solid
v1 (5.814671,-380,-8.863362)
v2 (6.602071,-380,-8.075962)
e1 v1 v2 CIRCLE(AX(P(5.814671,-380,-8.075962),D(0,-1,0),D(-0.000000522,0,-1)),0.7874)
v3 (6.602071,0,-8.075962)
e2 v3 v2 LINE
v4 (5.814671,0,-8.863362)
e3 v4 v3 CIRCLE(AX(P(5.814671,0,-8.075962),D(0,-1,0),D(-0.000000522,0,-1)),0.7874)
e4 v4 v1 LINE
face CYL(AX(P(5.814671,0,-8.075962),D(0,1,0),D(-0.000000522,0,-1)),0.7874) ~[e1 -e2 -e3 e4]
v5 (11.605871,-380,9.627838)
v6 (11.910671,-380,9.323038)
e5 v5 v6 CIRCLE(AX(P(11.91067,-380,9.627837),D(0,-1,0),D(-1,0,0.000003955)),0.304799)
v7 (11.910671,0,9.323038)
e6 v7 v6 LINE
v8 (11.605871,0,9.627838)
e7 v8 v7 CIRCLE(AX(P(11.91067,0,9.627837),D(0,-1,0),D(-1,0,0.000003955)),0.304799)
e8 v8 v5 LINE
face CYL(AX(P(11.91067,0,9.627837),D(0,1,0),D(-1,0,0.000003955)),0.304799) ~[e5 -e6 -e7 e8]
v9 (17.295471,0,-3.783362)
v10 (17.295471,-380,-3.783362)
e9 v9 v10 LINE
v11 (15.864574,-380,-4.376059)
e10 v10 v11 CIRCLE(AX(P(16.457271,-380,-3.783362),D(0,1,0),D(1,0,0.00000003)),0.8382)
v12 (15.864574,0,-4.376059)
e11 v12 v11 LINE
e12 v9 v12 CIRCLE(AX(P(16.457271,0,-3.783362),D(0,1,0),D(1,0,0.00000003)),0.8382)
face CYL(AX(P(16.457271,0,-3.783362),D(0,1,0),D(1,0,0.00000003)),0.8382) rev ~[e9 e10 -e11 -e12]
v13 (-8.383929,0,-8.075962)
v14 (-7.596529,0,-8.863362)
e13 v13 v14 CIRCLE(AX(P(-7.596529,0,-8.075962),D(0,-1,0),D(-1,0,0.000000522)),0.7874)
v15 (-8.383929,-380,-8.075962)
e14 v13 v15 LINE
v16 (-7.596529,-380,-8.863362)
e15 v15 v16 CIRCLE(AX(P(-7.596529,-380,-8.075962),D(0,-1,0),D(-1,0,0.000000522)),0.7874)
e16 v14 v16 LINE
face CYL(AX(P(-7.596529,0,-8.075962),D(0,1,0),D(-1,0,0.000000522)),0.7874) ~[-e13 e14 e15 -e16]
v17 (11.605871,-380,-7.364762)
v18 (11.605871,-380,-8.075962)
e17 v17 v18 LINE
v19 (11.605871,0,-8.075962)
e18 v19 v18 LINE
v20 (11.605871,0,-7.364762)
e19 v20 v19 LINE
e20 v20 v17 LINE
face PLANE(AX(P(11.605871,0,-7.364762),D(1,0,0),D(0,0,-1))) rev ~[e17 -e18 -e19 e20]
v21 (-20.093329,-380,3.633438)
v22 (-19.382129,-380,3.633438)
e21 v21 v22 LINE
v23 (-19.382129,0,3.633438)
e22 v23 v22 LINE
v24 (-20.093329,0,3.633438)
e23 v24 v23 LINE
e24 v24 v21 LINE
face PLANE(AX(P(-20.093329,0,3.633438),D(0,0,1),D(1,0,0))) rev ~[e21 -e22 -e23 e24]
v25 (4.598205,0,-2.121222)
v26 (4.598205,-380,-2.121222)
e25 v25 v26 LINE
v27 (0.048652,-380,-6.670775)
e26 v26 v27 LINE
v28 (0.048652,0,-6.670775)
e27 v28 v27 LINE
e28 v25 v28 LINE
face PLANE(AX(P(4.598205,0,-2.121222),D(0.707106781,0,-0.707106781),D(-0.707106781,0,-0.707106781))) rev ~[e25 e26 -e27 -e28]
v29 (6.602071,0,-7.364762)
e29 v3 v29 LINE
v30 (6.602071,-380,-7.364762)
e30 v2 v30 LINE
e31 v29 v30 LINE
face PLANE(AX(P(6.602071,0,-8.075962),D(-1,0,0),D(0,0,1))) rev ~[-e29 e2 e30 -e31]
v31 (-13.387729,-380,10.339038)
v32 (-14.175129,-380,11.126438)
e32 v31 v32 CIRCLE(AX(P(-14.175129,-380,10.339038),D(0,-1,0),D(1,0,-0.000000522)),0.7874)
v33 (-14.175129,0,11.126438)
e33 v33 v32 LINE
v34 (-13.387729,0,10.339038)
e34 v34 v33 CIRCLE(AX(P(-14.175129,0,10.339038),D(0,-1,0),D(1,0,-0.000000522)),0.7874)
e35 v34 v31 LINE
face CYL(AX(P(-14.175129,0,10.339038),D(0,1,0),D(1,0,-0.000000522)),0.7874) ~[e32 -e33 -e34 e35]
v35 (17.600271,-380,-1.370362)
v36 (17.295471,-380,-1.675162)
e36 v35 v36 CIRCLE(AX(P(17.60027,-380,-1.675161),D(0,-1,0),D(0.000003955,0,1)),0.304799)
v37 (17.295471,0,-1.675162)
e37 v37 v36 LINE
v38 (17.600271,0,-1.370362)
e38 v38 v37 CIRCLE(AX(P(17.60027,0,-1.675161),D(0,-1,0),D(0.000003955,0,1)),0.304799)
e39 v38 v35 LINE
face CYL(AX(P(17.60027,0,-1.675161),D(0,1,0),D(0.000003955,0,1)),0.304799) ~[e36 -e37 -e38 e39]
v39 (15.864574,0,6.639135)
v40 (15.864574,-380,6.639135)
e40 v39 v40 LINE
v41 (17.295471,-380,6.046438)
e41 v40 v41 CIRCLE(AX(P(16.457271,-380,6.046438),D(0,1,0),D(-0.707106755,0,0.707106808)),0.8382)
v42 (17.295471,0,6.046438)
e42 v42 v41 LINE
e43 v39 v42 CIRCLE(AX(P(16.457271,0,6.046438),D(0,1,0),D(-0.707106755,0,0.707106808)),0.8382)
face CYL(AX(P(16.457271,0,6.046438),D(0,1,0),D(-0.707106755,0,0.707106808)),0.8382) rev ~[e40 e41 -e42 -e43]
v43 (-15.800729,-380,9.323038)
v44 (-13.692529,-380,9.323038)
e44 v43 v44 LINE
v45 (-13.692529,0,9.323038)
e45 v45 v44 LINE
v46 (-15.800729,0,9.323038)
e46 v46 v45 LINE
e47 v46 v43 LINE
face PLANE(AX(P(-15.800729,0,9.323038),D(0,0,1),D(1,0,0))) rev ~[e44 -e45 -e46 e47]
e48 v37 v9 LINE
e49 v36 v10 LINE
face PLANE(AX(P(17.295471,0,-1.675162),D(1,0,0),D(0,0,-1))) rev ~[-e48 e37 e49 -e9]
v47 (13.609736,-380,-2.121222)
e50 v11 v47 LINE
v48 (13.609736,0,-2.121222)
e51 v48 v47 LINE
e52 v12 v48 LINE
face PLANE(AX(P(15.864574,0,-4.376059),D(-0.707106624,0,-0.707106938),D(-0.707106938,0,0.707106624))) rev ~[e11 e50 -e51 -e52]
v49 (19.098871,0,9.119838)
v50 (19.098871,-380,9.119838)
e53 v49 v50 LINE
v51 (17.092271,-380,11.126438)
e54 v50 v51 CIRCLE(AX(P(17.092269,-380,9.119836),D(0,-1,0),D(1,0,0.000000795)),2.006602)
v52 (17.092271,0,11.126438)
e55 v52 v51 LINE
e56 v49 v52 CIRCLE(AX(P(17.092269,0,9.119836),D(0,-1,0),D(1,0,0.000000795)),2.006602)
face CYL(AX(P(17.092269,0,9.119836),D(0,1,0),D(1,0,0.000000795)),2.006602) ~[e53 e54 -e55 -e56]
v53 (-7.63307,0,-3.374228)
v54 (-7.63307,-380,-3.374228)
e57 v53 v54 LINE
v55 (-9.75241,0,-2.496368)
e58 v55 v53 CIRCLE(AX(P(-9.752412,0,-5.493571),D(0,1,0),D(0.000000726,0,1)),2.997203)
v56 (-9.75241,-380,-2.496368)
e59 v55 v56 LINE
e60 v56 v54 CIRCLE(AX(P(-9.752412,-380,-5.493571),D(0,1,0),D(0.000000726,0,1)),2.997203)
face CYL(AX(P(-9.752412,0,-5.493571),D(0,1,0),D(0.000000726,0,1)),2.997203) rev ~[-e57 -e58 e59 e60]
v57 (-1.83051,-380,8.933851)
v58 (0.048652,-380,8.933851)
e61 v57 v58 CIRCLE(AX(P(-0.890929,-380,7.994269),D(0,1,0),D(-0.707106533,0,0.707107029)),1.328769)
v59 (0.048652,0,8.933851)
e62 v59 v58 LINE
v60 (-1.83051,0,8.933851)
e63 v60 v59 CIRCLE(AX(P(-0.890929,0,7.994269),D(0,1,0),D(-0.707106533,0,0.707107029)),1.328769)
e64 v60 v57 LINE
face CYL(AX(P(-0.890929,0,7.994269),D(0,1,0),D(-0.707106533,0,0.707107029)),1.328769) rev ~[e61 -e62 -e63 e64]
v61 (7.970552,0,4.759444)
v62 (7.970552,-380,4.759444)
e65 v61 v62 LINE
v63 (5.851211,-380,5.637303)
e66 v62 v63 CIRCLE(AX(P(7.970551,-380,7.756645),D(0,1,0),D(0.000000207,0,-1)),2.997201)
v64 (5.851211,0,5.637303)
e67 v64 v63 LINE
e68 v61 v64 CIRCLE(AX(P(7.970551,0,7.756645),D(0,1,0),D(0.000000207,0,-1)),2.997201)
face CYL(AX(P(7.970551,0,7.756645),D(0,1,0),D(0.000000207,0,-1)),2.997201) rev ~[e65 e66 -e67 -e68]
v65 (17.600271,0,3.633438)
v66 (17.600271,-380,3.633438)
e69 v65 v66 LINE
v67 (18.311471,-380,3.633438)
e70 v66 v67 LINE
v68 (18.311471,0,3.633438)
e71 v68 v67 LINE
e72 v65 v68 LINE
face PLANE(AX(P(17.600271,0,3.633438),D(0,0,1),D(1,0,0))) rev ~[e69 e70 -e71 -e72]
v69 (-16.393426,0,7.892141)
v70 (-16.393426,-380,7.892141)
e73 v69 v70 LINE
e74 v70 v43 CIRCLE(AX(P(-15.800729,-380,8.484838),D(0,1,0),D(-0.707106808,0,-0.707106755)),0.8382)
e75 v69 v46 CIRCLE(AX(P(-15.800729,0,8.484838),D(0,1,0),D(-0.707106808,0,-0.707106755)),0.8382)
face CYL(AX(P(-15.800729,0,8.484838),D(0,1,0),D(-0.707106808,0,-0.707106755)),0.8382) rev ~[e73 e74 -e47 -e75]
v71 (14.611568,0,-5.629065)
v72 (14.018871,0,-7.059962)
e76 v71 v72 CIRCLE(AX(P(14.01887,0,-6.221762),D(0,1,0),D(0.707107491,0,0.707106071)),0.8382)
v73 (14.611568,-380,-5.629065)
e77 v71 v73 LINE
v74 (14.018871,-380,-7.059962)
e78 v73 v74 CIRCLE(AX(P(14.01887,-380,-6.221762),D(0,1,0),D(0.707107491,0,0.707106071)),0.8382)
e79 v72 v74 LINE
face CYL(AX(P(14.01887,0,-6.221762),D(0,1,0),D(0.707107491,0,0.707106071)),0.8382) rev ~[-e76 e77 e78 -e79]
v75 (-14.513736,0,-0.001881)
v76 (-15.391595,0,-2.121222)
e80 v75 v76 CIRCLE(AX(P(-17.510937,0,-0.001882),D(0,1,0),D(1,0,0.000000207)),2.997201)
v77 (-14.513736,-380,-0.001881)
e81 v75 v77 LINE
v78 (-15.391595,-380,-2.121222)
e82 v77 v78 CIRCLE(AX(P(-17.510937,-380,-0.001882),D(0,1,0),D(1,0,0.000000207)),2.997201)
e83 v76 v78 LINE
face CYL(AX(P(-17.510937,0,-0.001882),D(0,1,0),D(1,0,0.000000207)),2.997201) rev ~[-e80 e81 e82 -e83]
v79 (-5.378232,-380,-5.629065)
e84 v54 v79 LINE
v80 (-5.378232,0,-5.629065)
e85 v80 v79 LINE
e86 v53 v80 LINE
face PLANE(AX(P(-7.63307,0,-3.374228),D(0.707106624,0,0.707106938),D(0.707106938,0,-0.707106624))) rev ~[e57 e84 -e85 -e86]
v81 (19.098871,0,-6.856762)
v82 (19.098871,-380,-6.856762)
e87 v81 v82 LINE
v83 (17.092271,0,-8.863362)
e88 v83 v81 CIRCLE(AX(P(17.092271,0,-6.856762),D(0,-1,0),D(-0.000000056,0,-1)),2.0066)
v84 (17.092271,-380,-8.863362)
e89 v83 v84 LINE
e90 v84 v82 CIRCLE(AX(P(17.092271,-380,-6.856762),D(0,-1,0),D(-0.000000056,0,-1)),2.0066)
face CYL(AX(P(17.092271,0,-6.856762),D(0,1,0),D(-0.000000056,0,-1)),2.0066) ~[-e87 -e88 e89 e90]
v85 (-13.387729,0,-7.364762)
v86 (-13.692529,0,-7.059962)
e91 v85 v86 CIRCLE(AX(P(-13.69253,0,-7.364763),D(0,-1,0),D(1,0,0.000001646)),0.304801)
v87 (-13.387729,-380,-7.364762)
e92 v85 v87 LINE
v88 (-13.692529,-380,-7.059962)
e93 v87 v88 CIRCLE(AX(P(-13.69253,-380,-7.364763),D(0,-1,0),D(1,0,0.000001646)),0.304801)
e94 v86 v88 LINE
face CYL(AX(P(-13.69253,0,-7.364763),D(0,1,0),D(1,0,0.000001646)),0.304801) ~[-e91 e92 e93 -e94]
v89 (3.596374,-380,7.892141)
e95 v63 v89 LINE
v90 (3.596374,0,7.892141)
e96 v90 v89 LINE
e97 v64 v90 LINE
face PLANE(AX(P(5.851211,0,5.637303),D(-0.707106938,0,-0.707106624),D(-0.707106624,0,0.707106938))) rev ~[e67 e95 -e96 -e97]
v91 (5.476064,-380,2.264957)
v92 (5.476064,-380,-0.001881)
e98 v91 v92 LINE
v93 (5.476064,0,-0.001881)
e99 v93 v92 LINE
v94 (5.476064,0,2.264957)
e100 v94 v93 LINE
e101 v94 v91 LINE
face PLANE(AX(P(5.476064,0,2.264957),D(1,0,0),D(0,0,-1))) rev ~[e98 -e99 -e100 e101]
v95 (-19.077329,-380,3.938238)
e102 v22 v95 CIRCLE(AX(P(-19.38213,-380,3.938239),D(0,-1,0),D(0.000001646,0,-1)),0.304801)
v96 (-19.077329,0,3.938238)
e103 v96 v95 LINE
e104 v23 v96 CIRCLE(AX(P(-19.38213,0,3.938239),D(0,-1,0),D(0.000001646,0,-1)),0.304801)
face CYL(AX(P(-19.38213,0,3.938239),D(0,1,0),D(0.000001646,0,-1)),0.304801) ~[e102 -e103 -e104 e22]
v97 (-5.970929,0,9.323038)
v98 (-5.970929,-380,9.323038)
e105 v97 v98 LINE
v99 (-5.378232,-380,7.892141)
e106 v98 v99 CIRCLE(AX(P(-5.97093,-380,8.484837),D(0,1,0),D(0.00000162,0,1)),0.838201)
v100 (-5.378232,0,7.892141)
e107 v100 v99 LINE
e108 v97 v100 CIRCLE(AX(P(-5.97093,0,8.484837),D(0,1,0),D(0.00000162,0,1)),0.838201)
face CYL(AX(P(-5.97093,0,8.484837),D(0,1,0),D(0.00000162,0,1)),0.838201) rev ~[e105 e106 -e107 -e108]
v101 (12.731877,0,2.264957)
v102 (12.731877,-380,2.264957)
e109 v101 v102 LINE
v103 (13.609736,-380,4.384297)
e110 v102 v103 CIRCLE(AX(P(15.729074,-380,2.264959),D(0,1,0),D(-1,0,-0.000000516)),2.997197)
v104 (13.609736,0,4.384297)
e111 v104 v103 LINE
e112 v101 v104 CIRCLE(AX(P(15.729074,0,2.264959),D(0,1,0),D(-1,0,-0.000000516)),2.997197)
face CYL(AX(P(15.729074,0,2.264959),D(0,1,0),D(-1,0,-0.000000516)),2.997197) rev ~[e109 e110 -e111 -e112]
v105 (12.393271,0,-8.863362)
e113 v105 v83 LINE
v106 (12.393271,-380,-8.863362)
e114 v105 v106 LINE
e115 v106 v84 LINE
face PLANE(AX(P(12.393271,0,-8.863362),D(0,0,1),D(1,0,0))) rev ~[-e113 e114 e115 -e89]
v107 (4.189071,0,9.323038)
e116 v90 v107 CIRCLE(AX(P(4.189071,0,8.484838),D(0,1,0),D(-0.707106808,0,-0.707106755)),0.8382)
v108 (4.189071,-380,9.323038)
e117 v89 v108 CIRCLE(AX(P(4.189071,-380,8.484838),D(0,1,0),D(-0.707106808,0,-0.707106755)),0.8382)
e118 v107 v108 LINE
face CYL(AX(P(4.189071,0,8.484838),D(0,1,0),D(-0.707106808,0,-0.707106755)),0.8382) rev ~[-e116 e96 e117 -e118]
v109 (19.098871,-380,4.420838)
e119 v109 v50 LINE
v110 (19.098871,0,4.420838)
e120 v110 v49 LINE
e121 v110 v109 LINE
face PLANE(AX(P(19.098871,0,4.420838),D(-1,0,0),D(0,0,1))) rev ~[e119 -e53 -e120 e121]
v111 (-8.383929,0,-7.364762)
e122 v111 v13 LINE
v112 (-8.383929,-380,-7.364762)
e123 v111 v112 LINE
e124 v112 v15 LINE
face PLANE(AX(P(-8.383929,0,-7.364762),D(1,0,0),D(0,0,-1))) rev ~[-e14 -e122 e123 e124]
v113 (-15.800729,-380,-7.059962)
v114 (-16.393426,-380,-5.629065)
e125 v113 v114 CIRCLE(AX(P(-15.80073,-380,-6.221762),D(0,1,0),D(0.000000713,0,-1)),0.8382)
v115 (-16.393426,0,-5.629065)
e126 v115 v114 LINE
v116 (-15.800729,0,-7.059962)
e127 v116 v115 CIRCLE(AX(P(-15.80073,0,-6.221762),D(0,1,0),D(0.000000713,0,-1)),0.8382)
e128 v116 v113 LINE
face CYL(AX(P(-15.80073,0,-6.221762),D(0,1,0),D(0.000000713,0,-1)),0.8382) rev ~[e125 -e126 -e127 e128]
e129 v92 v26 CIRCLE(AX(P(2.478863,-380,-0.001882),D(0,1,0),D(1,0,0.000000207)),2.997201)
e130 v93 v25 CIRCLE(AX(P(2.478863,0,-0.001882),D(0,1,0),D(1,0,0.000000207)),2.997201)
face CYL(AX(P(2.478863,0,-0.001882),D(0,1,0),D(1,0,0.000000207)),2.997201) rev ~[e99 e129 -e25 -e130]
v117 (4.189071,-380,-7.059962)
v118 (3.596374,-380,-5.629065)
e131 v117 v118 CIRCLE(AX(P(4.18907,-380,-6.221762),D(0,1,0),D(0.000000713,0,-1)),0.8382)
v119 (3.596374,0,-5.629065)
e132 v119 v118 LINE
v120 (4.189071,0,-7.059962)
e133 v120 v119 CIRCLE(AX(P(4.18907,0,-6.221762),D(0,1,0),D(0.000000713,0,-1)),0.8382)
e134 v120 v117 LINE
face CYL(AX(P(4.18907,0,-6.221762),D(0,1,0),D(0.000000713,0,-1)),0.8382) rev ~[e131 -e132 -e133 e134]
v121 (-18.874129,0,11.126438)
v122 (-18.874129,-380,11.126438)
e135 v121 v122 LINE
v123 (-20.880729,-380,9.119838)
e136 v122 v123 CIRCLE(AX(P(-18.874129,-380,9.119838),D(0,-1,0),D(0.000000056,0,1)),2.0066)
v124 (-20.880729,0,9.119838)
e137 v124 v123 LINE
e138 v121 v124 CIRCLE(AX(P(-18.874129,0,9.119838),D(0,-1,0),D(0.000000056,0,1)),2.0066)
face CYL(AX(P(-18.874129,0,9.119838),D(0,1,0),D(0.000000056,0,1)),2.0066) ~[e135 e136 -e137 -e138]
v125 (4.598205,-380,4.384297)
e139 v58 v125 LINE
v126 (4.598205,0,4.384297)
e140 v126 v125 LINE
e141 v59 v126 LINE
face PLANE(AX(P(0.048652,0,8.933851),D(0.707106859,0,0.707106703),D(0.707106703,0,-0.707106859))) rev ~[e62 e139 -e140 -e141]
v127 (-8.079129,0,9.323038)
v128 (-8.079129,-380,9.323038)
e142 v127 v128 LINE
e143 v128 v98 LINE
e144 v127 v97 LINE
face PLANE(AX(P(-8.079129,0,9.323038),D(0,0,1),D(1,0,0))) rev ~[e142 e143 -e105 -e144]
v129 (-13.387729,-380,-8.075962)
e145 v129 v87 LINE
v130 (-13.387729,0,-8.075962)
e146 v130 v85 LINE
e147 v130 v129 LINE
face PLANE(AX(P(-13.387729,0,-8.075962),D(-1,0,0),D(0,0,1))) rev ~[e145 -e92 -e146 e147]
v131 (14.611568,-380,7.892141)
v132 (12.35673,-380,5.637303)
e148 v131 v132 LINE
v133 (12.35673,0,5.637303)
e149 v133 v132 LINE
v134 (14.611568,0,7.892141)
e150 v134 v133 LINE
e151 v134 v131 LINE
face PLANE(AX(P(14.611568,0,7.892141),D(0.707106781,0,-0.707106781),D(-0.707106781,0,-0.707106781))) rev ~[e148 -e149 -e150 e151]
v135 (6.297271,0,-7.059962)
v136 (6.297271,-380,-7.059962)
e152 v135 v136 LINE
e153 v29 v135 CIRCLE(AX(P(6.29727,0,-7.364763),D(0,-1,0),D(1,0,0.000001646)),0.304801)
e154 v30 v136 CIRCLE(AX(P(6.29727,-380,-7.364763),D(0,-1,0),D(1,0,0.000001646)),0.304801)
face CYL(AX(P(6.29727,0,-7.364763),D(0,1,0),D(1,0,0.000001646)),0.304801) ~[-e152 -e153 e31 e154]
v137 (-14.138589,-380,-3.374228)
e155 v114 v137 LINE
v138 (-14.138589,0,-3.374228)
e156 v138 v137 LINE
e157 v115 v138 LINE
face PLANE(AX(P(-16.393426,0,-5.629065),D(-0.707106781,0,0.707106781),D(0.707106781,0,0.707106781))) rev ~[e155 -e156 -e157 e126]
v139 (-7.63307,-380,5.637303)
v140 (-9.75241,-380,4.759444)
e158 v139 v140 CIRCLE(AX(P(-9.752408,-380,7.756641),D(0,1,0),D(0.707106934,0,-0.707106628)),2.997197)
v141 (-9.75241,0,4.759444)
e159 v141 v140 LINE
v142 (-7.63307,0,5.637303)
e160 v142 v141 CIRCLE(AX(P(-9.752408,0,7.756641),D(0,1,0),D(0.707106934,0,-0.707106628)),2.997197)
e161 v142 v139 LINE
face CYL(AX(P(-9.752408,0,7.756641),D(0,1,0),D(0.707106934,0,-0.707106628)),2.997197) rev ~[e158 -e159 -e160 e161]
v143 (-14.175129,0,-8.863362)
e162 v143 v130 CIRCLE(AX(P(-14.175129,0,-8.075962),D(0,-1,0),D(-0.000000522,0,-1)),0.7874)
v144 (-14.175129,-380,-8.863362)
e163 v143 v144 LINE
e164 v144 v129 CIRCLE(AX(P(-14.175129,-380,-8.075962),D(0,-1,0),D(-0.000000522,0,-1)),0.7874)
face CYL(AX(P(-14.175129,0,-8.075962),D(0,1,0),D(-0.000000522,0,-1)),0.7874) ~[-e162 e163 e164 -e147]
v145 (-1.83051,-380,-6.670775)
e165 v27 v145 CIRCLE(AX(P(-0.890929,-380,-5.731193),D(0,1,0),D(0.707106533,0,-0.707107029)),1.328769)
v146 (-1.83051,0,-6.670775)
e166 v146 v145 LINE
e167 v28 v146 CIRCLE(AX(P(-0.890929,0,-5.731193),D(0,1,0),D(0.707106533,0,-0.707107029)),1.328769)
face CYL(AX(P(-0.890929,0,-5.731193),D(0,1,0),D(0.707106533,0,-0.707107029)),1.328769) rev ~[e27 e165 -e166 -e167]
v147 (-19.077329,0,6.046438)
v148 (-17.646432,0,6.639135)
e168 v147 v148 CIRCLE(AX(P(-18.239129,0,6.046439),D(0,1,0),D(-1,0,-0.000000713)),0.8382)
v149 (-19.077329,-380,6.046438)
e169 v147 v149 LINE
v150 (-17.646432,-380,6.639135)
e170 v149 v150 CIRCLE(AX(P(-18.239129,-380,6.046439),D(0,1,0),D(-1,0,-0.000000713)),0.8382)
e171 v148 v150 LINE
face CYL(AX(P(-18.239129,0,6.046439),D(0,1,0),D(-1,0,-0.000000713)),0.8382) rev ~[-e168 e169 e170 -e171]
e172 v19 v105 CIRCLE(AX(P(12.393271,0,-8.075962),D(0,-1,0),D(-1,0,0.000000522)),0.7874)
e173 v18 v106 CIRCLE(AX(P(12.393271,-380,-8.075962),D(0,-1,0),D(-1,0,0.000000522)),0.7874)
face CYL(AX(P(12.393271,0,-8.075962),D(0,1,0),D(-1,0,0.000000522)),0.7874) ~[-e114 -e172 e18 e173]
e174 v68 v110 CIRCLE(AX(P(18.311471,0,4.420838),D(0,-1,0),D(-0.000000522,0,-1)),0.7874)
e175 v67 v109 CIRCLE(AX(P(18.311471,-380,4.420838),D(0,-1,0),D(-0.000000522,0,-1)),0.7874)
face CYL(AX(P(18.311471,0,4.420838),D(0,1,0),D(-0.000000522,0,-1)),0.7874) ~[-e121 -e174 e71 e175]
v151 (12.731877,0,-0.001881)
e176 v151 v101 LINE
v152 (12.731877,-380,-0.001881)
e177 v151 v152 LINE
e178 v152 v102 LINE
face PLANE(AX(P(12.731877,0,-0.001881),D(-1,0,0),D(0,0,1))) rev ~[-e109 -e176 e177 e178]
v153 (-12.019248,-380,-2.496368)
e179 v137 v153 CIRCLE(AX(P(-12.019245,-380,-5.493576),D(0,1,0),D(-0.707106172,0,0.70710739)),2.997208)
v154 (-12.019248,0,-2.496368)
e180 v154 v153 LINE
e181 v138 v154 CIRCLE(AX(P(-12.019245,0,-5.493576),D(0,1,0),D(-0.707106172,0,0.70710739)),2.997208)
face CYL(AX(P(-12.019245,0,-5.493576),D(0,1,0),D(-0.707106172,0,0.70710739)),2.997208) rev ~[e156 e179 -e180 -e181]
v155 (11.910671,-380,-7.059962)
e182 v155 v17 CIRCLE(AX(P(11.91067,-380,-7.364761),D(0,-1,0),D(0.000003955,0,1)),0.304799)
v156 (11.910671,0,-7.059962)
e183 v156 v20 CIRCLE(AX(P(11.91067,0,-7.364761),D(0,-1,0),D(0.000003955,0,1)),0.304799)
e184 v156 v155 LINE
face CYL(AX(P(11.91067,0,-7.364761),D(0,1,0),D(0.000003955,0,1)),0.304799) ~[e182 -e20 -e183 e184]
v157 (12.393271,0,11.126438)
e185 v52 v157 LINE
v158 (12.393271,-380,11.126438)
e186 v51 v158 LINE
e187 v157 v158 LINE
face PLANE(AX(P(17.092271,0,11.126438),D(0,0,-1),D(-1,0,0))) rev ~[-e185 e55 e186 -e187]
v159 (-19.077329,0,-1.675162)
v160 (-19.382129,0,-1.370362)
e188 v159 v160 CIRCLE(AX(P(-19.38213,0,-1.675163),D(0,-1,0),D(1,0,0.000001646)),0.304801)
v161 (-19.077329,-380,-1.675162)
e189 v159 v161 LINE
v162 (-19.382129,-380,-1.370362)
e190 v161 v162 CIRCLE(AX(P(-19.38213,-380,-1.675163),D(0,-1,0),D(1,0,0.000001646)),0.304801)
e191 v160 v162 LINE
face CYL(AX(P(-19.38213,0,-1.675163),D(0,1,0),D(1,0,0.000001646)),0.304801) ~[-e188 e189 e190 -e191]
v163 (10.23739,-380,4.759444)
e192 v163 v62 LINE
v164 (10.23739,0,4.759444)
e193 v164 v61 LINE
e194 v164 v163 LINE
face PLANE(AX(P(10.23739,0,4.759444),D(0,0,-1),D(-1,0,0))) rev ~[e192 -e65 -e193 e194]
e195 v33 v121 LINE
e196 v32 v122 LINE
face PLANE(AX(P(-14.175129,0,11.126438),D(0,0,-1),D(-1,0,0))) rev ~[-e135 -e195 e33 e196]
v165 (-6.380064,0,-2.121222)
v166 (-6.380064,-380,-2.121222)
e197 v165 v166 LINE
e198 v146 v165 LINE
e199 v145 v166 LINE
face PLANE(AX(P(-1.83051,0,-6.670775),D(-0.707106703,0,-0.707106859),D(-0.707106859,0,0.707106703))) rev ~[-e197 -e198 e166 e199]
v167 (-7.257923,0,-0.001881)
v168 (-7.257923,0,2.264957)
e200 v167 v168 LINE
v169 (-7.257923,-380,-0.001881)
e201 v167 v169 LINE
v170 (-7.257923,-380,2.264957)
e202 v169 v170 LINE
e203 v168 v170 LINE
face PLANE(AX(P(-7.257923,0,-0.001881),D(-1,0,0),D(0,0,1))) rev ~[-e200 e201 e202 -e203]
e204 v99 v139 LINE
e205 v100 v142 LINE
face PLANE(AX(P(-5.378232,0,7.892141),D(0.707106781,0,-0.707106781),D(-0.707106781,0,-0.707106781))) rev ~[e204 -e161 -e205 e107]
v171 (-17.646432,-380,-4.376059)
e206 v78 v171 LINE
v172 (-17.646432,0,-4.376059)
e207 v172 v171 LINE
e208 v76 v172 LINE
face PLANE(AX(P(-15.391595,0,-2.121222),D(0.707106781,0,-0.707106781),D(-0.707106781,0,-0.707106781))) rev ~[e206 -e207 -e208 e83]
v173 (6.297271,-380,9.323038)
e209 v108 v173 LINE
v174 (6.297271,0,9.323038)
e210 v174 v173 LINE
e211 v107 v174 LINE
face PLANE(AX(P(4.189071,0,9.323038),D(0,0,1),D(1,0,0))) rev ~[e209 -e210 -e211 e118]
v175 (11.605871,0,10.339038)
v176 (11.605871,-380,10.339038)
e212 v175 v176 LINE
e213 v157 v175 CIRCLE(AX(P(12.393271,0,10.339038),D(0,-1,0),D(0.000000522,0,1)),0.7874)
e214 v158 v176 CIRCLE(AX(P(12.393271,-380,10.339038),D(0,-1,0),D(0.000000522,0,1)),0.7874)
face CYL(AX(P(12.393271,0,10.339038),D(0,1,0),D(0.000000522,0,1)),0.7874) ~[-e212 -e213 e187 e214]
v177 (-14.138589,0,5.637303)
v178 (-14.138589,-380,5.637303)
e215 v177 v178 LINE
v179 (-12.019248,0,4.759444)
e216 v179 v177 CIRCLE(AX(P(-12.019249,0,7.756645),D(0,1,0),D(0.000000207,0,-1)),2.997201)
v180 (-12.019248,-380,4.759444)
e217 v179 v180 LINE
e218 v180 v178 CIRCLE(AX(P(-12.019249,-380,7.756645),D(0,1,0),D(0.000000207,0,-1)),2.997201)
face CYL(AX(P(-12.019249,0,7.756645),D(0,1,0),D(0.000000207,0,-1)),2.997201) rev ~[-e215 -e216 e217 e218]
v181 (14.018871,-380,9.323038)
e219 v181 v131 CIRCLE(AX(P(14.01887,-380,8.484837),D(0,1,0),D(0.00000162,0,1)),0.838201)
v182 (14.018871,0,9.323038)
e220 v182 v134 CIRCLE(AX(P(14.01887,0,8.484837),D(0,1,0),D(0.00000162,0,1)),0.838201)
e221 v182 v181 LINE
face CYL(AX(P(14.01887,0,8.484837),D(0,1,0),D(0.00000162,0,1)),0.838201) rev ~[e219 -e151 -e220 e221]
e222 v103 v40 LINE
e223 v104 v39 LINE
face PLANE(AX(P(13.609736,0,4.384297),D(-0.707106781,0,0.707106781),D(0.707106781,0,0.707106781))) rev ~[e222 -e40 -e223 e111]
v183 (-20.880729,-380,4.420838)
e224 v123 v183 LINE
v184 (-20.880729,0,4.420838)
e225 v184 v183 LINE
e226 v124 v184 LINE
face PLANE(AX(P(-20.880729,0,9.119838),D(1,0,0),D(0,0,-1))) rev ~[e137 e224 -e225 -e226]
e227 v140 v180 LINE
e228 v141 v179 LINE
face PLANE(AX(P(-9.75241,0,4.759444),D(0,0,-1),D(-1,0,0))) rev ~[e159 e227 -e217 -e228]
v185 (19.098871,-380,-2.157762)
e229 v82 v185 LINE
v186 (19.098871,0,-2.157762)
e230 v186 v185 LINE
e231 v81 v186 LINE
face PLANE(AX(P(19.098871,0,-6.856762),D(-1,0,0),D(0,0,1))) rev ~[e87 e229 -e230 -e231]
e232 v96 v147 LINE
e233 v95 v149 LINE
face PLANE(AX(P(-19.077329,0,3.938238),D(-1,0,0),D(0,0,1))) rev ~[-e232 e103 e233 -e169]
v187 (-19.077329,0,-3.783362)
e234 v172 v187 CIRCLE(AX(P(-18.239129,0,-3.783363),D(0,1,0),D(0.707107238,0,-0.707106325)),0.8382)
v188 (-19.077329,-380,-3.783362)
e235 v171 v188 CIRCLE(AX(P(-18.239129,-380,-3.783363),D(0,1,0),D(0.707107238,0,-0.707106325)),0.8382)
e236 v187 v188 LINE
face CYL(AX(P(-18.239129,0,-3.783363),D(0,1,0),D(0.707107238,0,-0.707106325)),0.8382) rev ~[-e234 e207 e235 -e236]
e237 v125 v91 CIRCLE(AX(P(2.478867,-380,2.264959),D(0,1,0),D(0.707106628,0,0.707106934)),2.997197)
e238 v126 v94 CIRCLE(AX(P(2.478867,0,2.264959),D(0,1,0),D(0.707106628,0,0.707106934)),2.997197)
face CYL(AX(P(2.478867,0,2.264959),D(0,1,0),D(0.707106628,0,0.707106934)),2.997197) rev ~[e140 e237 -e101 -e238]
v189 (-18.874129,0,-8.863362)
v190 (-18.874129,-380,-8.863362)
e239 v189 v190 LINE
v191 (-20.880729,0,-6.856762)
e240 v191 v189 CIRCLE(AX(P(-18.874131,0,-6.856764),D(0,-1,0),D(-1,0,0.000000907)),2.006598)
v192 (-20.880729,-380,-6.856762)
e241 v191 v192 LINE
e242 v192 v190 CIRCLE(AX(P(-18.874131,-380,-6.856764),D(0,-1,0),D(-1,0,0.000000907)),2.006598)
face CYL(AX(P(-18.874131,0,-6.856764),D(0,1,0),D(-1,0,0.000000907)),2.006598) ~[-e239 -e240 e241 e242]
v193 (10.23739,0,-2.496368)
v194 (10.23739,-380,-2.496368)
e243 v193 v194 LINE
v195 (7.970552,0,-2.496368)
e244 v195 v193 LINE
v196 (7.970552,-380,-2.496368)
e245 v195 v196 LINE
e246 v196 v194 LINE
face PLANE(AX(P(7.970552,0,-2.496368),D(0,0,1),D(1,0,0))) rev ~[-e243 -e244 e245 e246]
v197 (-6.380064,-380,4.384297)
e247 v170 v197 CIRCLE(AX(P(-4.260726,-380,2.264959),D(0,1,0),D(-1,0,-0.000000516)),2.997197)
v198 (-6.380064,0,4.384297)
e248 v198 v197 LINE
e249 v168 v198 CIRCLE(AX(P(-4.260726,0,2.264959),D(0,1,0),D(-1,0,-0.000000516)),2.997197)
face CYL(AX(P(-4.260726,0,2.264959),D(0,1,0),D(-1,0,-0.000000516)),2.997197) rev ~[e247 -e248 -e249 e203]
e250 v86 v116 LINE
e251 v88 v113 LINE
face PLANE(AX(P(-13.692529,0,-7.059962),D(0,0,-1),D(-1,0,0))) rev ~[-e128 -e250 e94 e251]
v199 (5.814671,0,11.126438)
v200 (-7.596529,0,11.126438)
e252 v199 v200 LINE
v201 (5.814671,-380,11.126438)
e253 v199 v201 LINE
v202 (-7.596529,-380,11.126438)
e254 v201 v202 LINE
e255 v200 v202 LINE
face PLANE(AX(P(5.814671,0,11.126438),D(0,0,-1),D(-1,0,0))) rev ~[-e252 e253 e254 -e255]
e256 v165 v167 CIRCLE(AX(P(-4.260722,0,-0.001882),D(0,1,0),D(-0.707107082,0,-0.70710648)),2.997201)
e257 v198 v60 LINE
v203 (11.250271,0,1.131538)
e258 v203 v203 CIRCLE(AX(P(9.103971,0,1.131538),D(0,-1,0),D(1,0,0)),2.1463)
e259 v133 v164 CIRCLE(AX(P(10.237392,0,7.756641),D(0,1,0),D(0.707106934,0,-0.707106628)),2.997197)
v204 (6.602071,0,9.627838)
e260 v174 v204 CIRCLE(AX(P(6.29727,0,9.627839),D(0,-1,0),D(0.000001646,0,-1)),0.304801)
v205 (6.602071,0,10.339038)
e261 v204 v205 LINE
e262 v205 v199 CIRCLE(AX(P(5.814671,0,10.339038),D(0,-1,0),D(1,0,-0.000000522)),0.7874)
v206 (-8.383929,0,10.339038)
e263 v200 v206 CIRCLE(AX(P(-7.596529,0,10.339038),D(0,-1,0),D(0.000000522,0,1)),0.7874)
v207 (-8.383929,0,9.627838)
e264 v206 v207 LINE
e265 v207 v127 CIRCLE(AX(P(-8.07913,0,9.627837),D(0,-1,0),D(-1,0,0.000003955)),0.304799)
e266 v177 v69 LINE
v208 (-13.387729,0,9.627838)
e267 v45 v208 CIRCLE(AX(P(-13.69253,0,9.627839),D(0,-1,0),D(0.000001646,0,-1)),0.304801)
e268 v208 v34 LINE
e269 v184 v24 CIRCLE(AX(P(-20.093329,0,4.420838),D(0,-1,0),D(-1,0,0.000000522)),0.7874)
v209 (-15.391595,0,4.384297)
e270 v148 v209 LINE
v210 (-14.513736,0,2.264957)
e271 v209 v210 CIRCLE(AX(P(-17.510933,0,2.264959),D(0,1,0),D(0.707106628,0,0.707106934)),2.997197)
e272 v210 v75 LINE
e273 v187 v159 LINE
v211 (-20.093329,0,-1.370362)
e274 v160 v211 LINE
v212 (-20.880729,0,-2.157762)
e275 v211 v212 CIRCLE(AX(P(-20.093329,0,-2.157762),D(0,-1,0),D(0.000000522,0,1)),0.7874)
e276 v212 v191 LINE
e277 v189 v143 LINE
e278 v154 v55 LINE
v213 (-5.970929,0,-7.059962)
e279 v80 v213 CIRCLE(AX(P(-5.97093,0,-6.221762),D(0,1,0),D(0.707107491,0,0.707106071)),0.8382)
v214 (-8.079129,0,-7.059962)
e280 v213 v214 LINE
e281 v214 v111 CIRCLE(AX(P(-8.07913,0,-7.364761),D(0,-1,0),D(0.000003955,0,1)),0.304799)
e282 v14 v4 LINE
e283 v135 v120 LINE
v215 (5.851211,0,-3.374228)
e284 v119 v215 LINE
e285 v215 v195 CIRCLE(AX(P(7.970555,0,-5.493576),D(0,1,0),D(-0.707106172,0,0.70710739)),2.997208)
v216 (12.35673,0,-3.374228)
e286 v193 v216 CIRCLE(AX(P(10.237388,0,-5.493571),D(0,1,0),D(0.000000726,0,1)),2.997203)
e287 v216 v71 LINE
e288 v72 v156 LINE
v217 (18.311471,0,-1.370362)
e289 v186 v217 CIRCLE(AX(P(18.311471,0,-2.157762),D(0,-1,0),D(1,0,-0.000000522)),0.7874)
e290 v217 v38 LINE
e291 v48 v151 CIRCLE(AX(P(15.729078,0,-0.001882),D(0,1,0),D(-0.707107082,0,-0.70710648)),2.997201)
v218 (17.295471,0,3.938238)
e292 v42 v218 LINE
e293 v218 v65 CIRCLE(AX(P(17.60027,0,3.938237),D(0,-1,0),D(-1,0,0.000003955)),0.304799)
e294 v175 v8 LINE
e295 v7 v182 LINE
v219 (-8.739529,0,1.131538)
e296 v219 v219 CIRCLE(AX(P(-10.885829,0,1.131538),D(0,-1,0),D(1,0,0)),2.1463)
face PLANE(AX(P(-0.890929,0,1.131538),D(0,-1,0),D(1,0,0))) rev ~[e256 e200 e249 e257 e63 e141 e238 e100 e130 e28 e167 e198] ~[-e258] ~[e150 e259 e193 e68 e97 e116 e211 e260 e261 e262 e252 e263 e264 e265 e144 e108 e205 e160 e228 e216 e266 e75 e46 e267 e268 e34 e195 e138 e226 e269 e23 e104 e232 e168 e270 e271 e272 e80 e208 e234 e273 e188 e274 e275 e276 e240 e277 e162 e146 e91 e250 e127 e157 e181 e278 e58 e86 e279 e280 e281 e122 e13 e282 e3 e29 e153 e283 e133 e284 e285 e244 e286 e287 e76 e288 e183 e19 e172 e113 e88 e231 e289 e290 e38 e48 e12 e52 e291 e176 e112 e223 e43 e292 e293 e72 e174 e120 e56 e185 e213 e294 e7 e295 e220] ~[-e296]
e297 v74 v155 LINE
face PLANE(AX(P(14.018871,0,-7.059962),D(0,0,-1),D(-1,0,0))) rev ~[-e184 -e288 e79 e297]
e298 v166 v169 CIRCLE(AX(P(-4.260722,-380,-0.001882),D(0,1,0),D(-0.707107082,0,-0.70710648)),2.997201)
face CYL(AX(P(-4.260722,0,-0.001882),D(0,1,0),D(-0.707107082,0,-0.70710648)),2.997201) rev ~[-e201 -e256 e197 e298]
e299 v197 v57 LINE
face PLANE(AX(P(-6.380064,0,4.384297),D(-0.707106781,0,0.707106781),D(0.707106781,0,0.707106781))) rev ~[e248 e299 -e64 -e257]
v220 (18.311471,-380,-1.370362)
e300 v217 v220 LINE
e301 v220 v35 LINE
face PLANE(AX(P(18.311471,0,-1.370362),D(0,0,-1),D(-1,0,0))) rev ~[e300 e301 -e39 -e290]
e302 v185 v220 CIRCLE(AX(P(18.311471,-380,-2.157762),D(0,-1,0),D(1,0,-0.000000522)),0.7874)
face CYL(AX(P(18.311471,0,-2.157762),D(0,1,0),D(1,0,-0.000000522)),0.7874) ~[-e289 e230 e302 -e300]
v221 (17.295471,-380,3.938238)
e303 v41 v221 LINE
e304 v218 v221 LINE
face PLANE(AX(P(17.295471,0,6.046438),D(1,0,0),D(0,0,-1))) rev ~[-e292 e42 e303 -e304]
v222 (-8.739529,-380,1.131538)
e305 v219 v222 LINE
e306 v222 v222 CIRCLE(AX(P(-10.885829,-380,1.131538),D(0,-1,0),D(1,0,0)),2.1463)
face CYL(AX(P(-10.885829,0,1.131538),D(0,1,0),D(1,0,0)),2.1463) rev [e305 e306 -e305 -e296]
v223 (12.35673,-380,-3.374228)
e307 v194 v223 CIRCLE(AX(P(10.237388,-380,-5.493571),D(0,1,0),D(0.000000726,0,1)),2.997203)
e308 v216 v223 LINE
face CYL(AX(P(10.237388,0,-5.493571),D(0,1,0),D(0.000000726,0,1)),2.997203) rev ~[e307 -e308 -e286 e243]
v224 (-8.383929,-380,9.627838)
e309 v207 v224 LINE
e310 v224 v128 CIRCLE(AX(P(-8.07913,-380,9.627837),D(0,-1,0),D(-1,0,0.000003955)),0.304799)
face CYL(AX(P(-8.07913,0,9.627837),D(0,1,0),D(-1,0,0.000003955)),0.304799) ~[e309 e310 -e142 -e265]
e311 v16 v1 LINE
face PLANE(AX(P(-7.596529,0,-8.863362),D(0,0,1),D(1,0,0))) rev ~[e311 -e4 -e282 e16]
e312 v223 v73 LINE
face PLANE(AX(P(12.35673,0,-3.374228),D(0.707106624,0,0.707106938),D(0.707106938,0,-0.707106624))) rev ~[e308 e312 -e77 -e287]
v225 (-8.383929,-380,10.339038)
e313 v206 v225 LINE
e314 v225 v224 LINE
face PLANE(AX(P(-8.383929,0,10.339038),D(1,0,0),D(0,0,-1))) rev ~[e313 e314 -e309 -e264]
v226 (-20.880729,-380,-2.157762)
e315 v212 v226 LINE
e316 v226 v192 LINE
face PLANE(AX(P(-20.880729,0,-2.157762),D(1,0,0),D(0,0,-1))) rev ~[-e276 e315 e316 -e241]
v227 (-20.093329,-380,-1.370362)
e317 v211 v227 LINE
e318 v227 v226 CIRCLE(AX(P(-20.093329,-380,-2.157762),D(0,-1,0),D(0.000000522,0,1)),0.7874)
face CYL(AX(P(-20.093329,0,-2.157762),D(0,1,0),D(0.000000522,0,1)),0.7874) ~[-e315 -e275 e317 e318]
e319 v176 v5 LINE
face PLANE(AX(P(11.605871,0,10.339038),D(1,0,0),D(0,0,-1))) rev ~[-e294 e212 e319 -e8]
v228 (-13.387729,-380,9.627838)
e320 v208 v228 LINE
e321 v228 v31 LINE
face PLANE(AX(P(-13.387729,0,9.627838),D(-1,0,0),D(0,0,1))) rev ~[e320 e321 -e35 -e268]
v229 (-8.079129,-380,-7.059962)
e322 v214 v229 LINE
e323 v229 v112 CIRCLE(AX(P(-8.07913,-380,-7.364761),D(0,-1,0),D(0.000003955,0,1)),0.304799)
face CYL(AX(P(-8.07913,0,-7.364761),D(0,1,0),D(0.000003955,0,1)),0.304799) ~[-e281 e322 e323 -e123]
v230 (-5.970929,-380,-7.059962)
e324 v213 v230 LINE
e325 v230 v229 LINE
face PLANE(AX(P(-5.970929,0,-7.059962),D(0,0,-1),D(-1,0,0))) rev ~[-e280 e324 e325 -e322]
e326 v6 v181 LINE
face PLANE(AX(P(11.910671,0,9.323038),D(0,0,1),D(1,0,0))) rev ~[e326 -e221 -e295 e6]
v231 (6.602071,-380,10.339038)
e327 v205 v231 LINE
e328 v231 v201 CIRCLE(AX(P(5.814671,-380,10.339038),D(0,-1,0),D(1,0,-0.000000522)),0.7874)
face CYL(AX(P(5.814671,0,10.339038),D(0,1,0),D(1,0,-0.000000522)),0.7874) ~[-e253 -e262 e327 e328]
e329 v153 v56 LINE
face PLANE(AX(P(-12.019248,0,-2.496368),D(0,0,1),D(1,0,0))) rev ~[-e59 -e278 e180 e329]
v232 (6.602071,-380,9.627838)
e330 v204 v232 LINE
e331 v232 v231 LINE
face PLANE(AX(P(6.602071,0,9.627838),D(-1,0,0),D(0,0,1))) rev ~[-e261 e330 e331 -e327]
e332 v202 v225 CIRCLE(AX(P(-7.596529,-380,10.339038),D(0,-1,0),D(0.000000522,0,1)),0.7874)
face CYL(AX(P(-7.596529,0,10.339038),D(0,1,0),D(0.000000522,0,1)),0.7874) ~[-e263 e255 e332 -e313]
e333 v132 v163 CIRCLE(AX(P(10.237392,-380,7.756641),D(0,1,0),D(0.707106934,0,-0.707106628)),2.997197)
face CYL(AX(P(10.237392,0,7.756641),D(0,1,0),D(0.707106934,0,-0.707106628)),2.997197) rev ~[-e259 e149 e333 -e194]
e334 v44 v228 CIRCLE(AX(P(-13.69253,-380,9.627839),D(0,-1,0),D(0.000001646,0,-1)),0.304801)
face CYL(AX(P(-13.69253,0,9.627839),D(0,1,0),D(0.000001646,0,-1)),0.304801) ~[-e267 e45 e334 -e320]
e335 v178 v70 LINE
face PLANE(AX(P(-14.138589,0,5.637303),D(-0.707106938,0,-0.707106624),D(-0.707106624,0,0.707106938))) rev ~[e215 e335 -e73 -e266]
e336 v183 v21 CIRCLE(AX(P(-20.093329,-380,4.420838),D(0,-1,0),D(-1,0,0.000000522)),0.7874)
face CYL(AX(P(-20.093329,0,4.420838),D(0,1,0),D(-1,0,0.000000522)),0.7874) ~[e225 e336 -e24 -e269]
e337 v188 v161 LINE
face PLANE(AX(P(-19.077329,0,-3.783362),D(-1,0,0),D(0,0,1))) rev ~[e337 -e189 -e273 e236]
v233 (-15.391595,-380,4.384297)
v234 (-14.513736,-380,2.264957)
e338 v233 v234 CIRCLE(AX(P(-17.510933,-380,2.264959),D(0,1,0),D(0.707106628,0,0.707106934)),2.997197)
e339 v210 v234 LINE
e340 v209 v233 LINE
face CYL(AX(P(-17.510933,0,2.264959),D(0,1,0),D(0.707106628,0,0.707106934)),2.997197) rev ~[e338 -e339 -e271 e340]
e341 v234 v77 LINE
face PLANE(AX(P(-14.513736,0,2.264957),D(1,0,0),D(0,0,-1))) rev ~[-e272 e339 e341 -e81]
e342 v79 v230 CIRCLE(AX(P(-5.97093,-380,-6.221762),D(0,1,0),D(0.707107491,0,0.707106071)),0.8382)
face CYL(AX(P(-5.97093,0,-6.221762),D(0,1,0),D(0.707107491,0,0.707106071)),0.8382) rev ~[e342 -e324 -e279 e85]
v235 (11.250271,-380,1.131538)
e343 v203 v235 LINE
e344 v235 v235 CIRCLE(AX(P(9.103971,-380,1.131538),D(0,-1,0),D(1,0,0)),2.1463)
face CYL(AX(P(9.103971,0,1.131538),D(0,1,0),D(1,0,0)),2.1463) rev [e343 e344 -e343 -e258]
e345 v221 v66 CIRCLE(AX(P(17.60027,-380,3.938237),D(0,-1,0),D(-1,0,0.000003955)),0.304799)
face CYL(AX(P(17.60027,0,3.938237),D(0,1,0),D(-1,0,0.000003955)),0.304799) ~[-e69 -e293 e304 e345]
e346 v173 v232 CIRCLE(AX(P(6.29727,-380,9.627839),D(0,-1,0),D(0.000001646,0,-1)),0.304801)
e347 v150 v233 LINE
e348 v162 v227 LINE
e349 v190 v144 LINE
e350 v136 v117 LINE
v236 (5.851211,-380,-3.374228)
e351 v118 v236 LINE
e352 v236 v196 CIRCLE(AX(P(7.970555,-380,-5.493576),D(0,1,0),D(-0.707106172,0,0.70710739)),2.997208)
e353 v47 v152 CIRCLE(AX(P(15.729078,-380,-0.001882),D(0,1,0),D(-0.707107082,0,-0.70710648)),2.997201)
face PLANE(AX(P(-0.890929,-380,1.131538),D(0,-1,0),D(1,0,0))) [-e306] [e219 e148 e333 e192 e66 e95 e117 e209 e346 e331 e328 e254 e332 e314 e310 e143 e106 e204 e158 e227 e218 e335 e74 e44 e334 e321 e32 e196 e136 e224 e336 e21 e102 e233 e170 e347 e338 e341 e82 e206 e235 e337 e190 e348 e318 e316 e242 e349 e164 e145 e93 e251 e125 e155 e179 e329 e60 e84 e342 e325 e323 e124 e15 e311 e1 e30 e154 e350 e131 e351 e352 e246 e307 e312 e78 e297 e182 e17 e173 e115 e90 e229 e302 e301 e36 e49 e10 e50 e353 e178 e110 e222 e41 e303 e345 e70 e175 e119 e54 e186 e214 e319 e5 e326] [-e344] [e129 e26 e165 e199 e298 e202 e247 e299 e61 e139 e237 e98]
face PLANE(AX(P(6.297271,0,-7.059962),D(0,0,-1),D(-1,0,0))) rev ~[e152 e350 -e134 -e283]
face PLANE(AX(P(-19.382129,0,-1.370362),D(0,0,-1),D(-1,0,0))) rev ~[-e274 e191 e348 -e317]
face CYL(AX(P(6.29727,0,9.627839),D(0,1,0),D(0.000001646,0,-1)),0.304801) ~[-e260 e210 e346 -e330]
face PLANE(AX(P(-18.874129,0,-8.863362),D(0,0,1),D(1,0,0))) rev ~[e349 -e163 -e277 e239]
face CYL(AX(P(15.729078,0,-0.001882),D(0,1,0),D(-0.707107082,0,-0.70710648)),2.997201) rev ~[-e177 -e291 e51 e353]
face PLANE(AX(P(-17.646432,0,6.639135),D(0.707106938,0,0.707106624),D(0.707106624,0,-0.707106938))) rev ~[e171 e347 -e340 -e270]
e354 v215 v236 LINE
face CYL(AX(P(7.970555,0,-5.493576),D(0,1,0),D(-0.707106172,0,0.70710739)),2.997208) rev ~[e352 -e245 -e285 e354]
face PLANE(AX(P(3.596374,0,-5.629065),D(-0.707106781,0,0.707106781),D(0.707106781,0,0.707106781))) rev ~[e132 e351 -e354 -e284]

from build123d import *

# Parameters (mm, degrees)
F0_R     = 2.1463
F1_DEPTH = 380


with BuildPart() as f1:
    # F0 (on Front) → F1 (new body)
    with BuildSketch(Plane.XZ):
        with BuildLine():
            Line((-9.75241, 4.759444), (-12.019248, 4.759444))
            ThreePointArc((-12.019248, 4.759444), (-13.166227, 4.987592), (-14.138589, 5.637303))
            Line((-14.138589, 5.637303), (-16.393426, 7.892141))
            ThreePointArc((-16.393426, 7.892141), (-16.575125, 8.805603), (-15.800729, 9.323038))
            Line((-15.800729, 9.323038), (-13.692529, 9.323038))
            ThreePointArc((-13.692529, 9.323038), (-13.477003, 9.412312), (-13.387729, 9.627838))
            Line((-13.387729, 9.627838), (-13.387729, 10.339038))
            ThreePointArc((-13.387729, 10.339038), (-13.618353, 10.895814), (-14.175129, 11.126438))
            Line((-14.175129, 11.126438), (-18.874129, 11.126438))
            ThreePointArc((-18.874129, 11.126438), (-20.29301, 10.538718), (-20.880729, 9.119838))
            Line((-20.880729, 9.119838), (-20.880729, 4.420838))
            ThreePointArc((-20.880729, 4.420838), (-20.650105, 3.864062), (-20.093329, 3.633438))
            Line((-20.093329, 3.633438), (-19.382129, 3.633438))
            ThreePointArc((-19.382129, 3.633438), (-19.166603, 3.722712), (-19.077329, 3.938238))
            Line((-19.077329, 3.938238), (-19.077329, 6.046438))
            ThreePointArc((-19.077329, 6.046438), (-18.559895, 6.820834), (-17.646432, 6.639135))
            Line((-17.646432, 6.639135), (-15.391595, 4.384297))
            ThreePointArc((-15.391595, 4.384297), (-14.741884, 3.411936), (-14.513736, 2.264957))
            Line((-14.513736, 2.264957), (-14.513736, -0.001881))
            ThreePointArc((-14.513736, -0.001881), (-14.741884, -1.14886), (-15.391595, -2.121222))
            Line((-15.391595, -2.121222), (-17.646432, -4.376059))
            ThreePointArc((-17.646432, -4.376059), (-18.559895, -4.557758), (-19.077329, -3.783362))
            Line((-19.077329, -3.783362), (-19.077329, -1.675162))
            ThreePointArc((-19.077329, -1.675162), (-19.166603, -1.459636), (-19.382129, -1.370362))
            Line((-19.382129, -1.370362), (-20.093329, -1.370362))
            ThreePointArc((-20.093329, -1.370362), (-20.650105, -1.600986), (-20.880729, -2.157762))
            Line((-20.880729, -2.157762), (-20.880729, -6.856762))
            ThreePointArc((-20.880729, -6.856762), (-20.29301, -8.275643), (-18.874129, -8.863362))
            Line((-18.874129, -8.863362), (-14.175129, -8.863362))
            ThreePointArc((-14.175129, -8.863362), (-13.618353, -8.632738), (-13.387729, -8.075962))
            Line((-13.387729, -8.075962), (-13.387729, -7.364762))
            ThreePointArc((-13.387729, -7.364762), (-13.477003, -7.149236), (-13.692529, -7.059962))
            Line((-13.692529, -7.059962), (-15.800729, -7.059962))
            ThreePointArc((-15.800729, -7.059962), (-16.575125, -6.542528), (-16.393426, -5.629065))
            Line((-16.393426, -5.629065), (-14.138589, -3.374228))
            ThreePointArc((-14.138589, -3.374228), (-13.166227, -2.724517), (-12.019248, -2.496368))
            Line((-12.019248, -2.496368), (-9.75241, -2.496368))
            ThreePointArc((-9.75241, -2.496368), (-8.605431, -2.724517), (-7.63307, -3.374228))
            Line((-7.63307, -3.374228), (-5.378232, -5.629065))
            ThreePointArc((-5.378232, -5.629065), (-5.196534, -6.542528), (-5.970929, -7.059962))
            Line((-5.970929, -7.059962), (-8.079129, -7.059962))
            ThreePointArc((-8.079129, -7.059962), (-8.294656, -7.149236), (-8.383929, -7.364762))
            Line((-8.383929, -7.364762), (-8.383929, -8.075962))
            ThreePointArc((-8.383929, -8.075962), (-8.153305, -8.632738), (-7.596529, -8.863362))
            Line((-7.596529, -8.863362), (5.814671, -8.863362))
            ThreePointArc((5.814671, -8.863362), (6.371447, -8.632738), (6.602071, -8.075962))
            Line((6.602071, -8.075962), (6.602071, -7.364762))
            ThreePointArc((6.602071, -7.364762), (6.512797, -7.149236), (6.297271, -7.059962))
            Line((6.297271, -7.059962), (4.189071, -7.059962))
            ThreePointArc((4.189071, -7.059962), (3.414675, -6.542528), (3.596374, -5.629065))
            Line((3.596374, -5.629065), (5.851211, -3.374228))
            ThreePointArc((5.851211, -3.374228), (6.823573, -2.724517), (7.970552, -2.496368))
            Line((7.970552, -2.496368), (10.23739, -2.496368))
            ThreePointArc((10.23739, -2.496368), (11.384369, -2.724517), (12.35673, -3.374228))
            Line((12.35673, -3.374228), (14.611568, -5.629065))
            ThreePointArc((14.611568, -5.629065), (14.793266, -6.542528), (14.018871, -7.059962))
            Line((14.018871, -7.059962), (11.910671, -7.059962))
            ThreePointArc((11.910671, -7.059962), (11.695144, -7.149236), (11.605871, -7.364762))
            Line((11.605871, -7.364762), (11.605871, -8.075962))
            ThreePointArc((11.605871, -8.075962), (11.836495, -8.632738), (12.393271, -8.863362))
            Line((12.393271, -8.863362), (17.092271, -8.863362))
            ThreePointArc((17.092271, -8.863362), (18.511151, -8.275643), (19.098871, -6.856762))
            Line((19.098871, -6.856762), (19.098871, -2.157762))
            ThreePointArc((19.098871, -2.157762), (18.868247, -1.600986), (18.311471, -1.370362))
            Line((18.311471, -1.370362), (17.600271, -1.370362))
            ThreePointArc((17.600271, -1.370362), (17.384744, -1.459636), (17.295471, -1.675162))
            Line((17.295471, -1.675162), (17.295471, -3.783362))
            ThreePointArc((17.295471, -3.783362), (16.778036, -4.557758), (15.864574, -4.376059))
            Line((15.864574, -4.376059), (13.609736, -2.121222))
            ThreePointArc((13.609736, -2.121222), (12.960025, -1.14886), (12.731877, -0.001881))
            Line((12.731877, -0.001881), (12.731877, 2.264957))
            ThreePointArc((12.731877, 2.264957), (12.960025, 3.411936), (13.609736, 4.384297))
            Line((13.609736, 4.384297), (15.864574, 6.639135))
            ThreePointArc((15.864574, 6.639135), (16.778036, 6.820834), (17.295471, 6.046438))
            Line((17.295471, 6.046438), (17.295471, 3.938238))
            ThreePointArc((17.295471, 3.938238), (17.384744, 3.722712), (17.600271, 3.633438))
            Line((17.600271, 3.633438), (18.311471, 3.633438))
            ThreePointArc((18.311471, 3.633438), (18.868247, 3.864062), (19.098871, 4.420838))
            Line((19.098871, 4.420838), (19.098871, 9.119838))
            ThreePointArc((19.098871, 9.119838), (18.511151, 10.538718), (17.092271, 11.126438))
            Line((17.092271, 11.126438), (12.393271, 11.126438))
            ThreePointArc((12.393271, 11.126438), (11.836495, 10.895814), (11.605871, 10.339038))
            Line((11.605871, 10.339038), (11.605871, 9.627838))
            ThreePointArc((11.605871, 9.627838), (11.695144, 9.412312), (11.910671, 9.323038))
            Line((11.910671, 9.323038), (14.018871, 9.323038))
            ThreePointArc((14.018871, 9.323038), (14.793266, 8.805603), (14.611568, 7.892141))
            Line((14.611568, 7.892141), (12.35673, 5.637303))
            ThreePointArc((12.35673, 5.637303), (11.384369, 4.987592), (10.23739, 4.759444))
            Line((10.23739, 4.759444), (7.970552, 4.759444))
            ThreePointArc((7.970552, 4.759444), (6.823573, 4.987592), (5.851211, 5.637303))
            Line((5.851211, 5.637303), (3.596374, 7.892141))
            ThreePointArc((3.596374, 7.892141), (3.414675, 8.805603), (4.189071, 9.323038))
            Line((4.189071, 9.323038), (6.297271, 9.323038))
            ThreePointArc((6.297271, 9.323038), (6.512797, 9.412312), (6.602071, 9.627838))
            Line((6.602071, 9.627838), (6.602071, 10.339038))
            ThreePointArc((6.602071, 10.339038), (6.371447, 10.895814), (5.814671, 11.126438))
            Line((5.814671, 11.126438), (-7.596529, 11.126438))
            ThreePointArc((-7.596529, 11.126438), (-8.153305, 10.895814), (-8.383929, 10.339038))
            Line((-8.383929, 10.339038), (-8.383929, 9.627838))
            ThreePointArc((-8.383929, 9.627838), (-8.294656, 9.412312), (-8.079129, 9.323038))
            Line((-8.079129, 9.323038), (-5.970929, 9.323038))
            ThreePointArc((-5.970929, 9.323038), (-5.196534, 8.805603), (-5.378232, 7.892141))
            Line((-5.378232, 7.892141), (-7.63307, 5.637303))
            ThreePointArc((-7.63307, 5.637303), (-8.605431, 4.987592), (-9.75241, 4.759444))
        make_face()
        with Locations((-10.885829, 1.131538)):
            Circle(F0_R, mode=Mode.SUBTRACT)
        with BuildLine():
            Line((-7.257923, -0.001881), (-7.257923, 2.264957))
            ThreePointArc((-7.257923, 2.264957), (-7.029775, 3.411936), (-6.380064, 4.384297))
            Line((-6.380064, 4.384297), (-1.83051, 8.933851))
            ThreePointArc((-1.83051, 8.933851), (-0.890929, 9.323038), (0.048652, 8.933851))
            Line((0.048652, 8.933851), (4.598205, 4.384297))
            ThreePointArc((4.598205, 4.384297), (5.247916, 3.411936), (5.476064, 2.264957))
            Line((5.476064, 2.264957), (5.476064, -0.001881))
            ThreePointArc((5.476064, -0.001881), (5.247916, -1.14886), (4.598205, -2.121222))
            Line((4.598205, -2.121222), (0.048652, -6.670775))
            ThreePointArc((0.048652, -6.670775), (-0.890929, -7.059962), (-1.83051, -6.670775))
            Line((-1.83051, -6.670775), (-6.380064, -2.121222))
            ThreePointArc((-6.380064, -2.121222), (-7.029775, -1.14886), (-7.257923, -0.001881))
        make_face(mode=Mode.SUBTRACT)
        with Locations((9.103971, 1.131538)):
            Circle(F0_R, mode=Mode.SUBTRACT)
    extrude(amount=F1_DEPTH)


solid = f1.part
